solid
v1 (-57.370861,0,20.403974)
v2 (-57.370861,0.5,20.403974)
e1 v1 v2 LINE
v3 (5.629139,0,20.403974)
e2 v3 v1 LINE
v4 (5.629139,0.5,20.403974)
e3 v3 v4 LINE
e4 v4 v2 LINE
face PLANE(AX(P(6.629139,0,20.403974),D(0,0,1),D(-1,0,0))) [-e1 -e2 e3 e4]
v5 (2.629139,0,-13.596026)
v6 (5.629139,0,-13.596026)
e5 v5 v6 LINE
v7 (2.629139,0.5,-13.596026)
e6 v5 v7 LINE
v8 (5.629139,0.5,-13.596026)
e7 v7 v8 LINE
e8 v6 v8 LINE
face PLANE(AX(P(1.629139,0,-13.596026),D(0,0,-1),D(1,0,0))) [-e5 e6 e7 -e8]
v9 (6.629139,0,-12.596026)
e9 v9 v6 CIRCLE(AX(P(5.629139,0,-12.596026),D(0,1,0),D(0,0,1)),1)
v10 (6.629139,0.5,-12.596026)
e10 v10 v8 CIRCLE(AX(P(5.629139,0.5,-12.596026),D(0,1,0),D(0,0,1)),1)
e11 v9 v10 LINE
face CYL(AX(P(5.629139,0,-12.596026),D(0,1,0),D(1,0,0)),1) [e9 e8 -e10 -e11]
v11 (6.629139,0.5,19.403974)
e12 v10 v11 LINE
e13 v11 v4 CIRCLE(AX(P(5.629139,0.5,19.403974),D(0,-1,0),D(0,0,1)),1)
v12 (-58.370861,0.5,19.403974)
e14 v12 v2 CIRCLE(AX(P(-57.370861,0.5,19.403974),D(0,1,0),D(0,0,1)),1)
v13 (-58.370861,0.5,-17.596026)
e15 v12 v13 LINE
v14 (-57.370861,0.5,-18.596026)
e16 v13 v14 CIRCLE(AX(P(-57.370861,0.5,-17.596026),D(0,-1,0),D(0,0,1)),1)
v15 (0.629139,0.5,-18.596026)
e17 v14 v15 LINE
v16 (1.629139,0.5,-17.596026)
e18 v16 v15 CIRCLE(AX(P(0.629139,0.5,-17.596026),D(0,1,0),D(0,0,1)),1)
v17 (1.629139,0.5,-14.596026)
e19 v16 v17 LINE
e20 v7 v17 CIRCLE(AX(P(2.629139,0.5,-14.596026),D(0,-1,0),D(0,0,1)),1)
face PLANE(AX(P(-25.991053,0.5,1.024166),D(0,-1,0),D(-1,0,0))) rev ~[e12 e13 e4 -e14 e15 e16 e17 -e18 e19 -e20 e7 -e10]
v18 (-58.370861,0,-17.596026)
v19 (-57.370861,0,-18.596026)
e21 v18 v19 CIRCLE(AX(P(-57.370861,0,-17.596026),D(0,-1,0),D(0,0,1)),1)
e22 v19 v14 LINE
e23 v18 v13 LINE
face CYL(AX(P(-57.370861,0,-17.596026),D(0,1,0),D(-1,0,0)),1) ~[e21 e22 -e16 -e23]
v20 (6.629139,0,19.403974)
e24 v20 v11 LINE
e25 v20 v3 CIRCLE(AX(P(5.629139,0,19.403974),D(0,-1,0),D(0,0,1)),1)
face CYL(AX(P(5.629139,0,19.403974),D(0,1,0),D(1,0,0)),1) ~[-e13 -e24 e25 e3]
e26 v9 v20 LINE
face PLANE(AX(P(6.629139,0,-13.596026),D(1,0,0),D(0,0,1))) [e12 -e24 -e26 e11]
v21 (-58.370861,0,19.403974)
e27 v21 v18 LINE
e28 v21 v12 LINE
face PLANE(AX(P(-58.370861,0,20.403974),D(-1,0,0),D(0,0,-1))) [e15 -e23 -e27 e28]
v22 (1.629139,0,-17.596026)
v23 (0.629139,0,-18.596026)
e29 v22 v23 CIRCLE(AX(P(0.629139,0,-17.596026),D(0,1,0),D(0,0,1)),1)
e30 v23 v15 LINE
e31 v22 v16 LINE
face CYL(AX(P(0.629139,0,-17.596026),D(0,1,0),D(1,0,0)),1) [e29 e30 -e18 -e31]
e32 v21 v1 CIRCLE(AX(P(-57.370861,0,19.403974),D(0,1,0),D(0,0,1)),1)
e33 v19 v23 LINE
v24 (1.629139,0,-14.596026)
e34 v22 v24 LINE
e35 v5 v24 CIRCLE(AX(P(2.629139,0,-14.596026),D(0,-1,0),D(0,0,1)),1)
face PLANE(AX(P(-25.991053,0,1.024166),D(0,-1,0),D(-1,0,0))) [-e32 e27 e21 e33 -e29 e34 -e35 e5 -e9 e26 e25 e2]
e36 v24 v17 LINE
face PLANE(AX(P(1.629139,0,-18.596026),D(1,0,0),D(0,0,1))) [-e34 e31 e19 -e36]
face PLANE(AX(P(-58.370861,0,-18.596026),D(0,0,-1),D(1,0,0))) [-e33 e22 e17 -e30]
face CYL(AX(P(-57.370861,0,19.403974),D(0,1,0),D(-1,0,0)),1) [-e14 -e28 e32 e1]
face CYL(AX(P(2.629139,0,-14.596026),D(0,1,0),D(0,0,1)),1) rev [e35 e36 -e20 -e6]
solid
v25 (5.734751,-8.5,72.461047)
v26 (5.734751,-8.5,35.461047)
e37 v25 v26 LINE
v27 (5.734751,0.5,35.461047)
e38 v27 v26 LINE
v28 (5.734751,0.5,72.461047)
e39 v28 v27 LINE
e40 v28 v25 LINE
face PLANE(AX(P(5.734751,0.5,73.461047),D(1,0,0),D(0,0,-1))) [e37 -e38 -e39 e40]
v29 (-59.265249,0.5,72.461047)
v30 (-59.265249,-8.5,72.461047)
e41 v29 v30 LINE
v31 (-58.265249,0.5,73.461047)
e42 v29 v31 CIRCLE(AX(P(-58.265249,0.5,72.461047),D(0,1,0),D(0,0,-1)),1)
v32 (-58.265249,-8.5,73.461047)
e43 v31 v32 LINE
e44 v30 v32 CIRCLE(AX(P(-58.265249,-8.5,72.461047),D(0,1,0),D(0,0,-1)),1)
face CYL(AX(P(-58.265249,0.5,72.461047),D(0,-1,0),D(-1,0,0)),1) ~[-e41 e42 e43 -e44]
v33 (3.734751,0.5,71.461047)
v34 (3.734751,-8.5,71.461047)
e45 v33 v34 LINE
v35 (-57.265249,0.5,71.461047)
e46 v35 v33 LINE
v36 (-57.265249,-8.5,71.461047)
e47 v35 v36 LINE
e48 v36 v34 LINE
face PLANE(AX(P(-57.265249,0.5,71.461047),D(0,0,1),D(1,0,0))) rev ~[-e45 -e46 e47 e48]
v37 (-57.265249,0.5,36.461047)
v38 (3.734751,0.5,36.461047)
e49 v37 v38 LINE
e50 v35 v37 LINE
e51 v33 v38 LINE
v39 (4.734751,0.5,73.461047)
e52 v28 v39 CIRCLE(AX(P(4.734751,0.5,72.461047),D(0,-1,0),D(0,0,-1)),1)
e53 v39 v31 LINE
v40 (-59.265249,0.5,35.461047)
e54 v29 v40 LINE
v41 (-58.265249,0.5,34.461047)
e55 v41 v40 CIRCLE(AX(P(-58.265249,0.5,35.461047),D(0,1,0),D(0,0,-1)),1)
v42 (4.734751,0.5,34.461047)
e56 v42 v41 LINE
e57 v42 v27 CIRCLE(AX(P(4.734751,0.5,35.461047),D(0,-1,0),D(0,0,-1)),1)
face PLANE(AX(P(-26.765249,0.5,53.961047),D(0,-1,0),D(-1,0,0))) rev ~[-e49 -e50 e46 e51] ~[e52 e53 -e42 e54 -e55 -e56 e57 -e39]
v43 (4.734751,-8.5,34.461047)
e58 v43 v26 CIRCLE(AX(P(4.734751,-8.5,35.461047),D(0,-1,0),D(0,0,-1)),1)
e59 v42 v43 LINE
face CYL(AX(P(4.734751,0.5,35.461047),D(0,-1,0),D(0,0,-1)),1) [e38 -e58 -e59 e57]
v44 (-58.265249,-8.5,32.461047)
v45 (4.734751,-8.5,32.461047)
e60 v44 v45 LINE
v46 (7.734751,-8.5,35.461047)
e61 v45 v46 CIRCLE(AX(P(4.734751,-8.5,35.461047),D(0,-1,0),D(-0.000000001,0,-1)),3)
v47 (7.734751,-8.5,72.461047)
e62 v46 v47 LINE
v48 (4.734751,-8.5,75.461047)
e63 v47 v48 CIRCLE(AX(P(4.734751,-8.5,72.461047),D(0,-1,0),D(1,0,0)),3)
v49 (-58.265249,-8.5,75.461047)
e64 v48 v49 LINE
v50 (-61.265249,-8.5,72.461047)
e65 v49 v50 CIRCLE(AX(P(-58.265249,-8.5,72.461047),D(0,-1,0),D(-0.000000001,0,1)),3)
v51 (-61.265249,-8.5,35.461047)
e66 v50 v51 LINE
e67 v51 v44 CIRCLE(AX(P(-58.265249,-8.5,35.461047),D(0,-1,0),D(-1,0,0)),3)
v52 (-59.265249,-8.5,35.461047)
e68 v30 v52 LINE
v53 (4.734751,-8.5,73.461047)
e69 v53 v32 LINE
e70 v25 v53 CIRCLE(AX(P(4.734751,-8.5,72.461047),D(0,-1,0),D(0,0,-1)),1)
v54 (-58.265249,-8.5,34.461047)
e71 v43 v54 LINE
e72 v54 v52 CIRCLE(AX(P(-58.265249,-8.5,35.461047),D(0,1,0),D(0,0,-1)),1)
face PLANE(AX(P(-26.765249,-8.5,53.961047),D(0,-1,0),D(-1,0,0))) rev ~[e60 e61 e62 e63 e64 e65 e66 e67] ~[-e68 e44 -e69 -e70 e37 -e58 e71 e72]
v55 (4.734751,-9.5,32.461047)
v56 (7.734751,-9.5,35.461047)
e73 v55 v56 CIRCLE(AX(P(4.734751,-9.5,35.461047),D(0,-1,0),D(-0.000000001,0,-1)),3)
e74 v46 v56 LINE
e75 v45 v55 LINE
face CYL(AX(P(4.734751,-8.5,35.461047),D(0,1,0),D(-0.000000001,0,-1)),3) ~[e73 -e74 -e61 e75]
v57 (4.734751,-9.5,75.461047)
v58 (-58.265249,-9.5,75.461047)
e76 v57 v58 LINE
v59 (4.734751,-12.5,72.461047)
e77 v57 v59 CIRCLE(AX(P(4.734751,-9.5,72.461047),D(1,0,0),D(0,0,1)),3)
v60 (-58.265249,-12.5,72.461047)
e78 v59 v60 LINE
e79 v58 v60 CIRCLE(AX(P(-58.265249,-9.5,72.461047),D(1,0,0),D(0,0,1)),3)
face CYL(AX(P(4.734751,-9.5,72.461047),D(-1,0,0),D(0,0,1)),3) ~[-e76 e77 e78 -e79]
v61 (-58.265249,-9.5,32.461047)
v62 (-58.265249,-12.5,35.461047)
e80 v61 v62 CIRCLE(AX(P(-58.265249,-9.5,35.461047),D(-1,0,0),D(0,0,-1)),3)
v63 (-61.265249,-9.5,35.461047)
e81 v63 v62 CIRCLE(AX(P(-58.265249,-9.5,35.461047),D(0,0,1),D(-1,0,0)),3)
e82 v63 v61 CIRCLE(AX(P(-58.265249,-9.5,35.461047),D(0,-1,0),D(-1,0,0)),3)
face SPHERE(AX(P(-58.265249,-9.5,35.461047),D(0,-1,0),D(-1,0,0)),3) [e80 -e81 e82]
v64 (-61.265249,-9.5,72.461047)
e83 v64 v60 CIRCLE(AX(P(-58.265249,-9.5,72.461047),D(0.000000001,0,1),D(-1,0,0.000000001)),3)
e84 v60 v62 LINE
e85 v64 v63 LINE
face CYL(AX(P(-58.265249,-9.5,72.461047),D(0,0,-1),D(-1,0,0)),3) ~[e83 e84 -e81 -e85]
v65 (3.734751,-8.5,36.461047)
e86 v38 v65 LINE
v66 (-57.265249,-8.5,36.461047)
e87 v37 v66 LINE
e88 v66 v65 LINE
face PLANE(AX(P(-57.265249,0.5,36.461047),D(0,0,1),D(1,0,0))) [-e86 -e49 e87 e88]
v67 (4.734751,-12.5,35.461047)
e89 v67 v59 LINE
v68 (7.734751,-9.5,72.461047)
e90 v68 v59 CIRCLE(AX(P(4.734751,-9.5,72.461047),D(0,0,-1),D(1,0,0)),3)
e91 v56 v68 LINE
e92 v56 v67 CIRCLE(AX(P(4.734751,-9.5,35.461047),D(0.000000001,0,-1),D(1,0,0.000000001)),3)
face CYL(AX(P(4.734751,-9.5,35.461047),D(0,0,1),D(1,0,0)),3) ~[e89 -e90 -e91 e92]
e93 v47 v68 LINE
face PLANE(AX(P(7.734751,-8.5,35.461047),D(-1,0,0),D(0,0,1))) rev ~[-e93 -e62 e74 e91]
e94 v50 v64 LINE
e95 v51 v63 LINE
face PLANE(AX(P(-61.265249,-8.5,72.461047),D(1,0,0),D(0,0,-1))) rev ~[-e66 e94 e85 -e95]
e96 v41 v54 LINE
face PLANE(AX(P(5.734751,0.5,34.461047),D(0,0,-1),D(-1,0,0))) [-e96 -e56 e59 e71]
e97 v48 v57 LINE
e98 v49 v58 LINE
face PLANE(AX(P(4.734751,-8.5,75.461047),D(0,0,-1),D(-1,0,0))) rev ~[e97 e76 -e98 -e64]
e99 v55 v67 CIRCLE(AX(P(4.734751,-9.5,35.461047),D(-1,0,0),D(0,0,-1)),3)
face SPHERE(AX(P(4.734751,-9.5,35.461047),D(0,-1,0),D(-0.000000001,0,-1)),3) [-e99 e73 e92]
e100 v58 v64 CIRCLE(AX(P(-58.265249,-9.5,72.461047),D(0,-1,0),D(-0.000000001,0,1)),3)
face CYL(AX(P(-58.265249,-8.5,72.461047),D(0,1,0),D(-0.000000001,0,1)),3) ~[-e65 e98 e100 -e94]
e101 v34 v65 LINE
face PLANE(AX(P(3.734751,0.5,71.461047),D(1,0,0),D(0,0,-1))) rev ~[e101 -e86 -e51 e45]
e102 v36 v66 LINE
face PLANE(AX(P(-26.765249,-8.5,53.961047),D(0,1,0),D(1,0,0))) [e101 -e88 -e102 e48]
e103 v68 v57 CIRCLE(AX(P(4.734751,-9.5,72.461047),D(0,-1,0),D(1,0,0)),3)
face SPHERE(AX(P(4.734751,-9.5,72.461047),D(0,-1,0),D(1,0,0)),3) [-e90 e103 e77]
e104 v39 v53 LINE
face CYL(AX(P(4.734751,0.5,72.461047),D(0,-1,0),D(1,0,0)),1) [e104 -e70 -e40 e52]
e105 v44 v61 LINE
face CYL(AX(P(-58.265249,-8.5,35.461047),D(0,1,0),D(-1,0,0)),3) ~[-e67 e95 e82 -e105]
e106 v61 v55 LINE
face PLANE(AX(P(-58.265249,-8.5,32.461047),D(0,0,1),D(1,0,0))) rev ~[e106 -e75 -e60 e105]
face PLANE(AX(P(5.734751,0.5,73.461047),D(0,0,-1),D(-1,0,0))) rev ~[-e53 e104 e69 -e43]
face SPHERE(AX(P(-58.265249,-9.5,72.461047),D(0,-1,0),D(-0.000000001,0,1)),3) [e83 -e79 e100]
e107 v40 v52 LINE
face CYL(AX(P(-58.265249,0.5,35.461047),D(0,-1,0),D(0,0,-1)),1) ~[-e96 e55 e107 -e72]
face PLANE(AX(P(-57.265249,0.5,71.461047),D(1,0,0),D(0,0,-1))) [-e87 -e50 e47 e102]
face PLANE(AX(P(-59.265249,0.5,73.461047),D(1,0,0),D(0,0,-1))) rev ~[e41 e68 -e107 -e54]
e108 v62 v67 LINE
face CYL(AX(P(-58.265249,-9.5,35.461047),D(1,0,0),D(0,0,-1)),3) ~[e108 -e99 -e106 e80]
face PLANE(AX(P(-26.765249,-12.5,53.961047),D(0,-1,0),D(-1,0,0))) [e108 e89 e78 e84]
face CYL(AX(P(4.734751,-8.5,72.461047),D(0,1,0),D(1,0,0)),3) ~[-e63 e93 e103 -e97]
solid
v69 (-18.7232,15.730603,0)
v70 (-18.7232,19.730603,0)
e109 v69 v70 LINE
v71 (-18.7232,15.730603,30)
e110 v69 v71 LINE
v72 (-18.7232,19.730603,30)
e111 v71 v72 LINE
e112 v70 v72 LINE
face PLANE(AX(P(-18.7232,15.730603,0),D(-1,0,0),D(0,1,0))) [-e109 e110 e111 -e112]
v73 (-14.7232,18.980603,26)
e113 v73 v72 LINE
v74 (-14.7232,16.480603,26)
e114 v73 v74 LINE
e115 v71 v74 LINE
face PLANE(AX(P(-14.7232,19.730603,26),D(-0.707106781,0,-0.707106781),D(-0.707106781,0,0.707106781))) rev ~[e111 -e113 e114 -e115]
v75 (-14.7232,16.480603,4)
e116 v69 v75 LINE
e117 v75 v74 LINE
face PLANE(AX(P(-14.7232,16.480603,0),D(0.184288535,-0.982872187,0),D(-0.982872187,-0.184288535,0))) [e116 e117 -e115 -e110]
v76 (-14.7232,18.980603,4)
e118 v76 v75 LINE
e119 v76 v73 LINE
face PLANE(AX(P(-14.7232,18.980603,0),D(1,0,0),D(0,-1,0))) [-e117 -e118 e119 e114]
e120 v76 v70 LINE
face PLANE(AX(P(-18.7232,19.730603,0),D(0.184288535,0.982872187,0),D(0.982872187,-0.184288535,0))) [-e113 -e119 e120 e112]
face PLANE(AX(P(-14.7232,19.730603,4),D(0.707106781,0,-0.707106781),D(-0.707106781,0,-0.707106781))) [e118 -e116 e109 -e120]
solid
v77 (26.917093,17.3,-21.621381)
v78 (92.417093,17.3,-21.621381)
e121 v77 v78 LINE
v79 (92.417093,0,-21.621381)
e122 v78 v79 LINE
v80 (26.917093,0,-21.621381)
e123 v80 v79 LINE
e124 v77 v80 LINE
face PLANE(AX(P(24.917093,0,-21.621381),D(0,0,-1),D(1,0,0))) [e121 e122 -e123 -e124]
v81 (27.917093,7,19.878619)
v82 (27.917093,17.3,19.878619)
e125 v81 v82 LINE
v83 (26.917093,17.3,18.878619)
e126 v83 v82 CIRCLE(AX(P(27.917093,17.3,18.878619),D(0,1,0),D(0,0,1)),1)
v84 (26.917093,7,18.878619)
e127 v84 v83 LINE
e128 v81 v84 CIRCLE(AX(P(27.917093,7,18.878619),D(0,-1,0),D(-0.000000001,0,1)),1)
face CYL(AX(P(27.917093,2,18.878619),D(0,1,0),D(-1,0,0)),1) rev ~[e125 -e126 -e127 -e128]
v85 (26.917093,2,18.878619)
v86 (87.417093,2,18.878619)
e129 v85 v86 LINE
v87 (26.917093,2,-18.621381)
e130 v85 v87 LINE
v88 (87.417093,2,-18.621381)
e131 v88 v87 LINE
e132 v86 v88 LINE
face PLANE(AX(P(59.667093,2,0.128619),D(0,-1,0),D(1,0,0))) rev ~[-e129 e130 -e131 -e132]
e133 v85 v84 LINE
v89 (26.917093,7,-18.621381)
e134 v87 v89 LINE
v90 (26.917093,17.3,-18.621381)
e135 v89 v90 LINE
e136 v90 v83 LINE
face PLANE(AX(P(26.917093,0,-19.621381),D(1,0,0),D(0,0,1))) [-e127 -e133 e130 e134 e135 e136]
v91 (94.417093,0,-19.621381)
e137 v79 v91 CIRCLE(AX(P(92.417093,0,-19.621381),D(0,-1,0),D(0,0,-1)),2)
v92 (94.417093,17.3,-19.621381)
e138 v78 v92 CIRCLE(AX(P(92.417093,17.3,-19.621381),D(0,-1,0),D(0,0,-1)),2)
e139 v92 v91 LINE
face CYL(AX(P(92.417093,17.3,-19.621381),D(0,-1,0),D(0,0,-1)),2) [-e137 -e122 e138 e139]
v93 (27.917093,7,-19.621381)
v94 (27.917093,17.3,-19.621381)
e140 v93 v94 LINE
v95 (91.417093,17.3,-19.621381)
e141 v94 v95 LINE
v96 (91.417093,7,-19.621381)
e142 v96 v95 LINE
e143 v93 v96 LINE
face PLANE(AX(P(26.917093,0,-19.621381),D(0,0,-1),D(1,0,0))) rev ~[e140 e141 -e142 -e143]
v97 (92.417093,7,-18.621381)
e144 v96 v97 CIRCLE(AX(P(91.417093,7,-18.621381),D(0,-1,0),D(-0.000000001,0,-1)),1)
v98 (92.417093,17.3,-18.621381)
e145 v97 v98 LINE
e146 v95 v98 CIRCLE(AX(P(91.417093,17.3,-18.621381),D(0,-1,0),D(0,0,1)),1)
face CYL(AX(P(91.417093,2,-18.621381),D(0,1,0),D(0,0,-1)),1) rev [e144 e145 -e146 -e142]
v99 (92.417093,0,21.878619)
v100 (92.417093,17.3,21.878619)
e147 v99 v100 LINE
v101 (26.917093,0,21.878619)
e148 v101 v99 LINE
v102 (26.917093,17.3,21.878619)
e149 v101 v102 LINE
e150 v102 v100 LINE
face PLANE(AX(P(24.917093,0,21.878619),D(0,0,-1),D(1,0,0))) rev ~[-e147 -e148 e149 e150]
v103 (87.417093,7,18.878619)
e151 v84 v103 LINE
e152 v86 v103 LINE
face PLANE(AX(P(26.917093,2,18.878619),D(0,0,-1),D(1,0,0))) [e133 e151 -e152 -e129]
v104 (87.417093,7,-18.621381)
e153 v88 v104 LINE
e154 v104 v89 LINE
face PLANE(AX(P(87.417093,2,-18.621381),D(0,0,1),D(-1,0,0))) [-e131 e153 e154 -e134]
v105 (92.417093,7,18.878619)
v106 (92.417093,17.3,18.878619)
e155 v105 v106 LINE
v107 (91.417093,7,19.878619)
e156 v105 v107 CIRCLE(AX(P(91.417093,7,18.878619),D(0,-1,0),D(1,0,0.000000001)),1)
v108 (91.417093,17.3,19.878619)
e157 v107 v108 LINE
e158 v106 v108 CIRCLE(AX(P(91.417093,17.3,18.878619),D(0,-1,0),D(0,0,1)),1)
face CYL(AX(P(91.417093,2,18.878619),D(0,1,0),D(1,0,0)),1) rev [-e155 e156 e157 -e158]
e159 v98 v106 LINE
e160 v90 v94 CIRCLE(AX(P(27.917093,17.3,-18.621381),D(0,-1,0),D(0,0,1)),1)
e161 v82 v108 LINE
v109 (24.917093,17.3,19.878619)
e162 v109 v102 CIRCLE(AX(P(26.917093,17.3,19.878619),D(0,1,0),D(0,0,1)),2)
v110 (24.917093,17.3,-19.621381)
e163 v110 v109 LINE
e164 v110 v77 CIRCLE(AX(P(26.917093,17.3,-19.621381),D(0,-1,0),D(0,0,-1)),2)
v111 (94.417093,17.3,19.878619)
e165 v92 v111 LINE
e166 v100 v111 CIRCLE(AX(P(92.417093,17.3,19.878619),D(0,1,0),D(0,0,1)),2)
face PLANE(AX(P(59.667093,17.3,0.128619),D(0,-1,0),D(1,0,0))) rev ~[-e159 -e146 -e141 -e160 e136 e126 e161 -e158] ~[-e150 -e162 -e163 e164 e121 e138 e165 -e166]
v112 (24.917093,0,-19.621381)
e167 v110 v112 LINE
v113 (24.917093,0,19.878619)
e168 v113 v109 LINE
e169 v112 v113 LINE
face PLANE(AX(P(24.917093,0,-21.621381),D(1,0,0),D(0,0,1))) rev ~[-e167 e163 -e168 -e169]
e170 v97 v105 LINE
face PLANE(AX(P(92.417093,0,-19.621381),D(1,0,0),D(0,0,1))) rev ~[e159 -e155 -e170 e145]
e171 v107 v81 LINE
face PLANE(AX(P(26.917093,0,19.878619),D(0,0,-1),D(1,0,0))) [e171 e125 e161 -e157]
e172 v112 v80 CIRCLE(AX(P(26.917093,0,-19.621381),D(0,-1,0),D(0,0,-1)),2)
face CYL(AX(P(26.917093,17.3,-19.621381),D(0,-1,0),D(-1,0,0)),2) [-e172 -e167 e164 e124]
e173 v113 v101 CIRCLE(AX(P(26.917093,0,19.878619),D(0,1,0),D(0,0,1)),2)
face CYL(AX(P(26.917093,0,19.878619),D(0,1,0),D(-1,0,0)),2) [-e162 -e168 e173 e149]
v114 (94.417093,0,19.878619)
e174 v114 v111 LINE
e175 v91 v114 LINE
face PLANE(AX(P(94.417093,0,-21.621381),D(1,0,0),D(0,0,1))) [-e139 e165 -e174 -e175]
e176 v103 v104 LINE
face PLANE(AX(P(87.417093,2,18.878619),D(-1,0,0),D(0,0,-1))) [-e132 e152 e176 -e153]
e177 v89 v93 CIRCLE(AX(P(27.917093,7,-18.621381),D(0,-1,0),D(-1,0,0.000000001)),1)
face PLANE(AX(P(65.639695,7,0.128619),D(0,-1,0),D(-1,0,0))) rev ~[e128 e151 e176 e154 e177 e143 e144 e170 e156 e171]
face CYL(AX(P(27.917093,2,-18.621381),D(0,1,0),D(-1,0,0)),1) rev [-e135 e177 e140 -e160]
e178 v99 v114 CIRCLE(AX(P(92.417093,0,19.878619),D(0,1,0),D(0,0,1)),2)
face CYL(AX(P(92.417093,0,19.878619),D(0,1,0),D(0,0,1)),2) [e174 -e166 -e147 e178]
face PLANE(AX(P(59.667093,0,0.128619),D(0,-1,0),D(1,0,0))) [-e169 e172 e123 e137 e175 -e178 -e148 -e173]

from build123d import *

# Parameters (mm, degrees)
BOSS_EXTRUDE1_DEPTH  = 0.5
FILLET2_R            = 1
FILLET3_R            = 1
FILLET4_R            = 1
FILLET5_R            = 1
SKETCH3_W            = 69.5
SKETCH3_H            = 43.5
SKETCH3_W_2          = 65.5
SKETCH3_H_2          = 39.5
BOSS_EXTRUDE2_DEPTH  = 17.3
SKETCH5_W            = 69.5
SKETCH5_H            = 43.5
BOSS_EXTRUDE3_DEPTH  = 2
FILLET6_R            = 1
FILLET7_R            = 1
FILLET8_R            = 1
FILLET9_R            = 1
BOSS_EXTRUDE5_DEPTH  = 9
FILLET12_R           = 1
FILLET13_R           = 1
BOSS_EXTRUDE6_DEPTH  = 4
SKETCH9_W            = 61
SKETCH9_H            = 35
BOSS_EXTRUDE7_DEPTH  = 9
FILLET15_R           = 3
BOSS_EXTRUDE8_DEPTH  = 30
BOSS_EXTRUDE9_REACH  = 127.091
FILLET16_R           = 2
BOSS_EXTRUDE10_DEPTH = 5


with BuildPart() as part:
    # Sketch1 → Boss-Extrude1 (new body)
    with BuildSketch(Plane(origin=(0, 0, 0), x_dir=(1, 0, 0), z_dir=(0, 1, 0))):
        Polygon((-58.370860927, -20.40397351), (-58.370860927, 18.59602649), (1.629139073, 18.59602649), (1.629139073, 13.59602649), (6.629139073, 13.59602649), (6.629139073, -20.40397351), align=None)
    extrude(amount=BOSS_EXTRUDE1_DEPTH)

    # Fillet2
    fillet2_edges = [part.edges().sort_by_distance(p)[0] for p in [
        (6.629139073, 0.25, 20.40397351),
    ]]
    fillet(fillet2_edges, radius=FILLET2_R)

    # Fillet3
    fillet3_edges = [part.edges().sort_by_distance(p)[0] for p in [
        (1.629139073, 0.25, -18.59602649),
        (1.629139073, 0.25, -13.59602649),
        (6.629139073, 0.25, -13.59602649),
    ]]
    fillet(fillet3_edges, radius=FILLET3_R)

    # Fillet4
    fillet4_edges = [part.edges().sort_by_distance(p)[0] for p in [
        (-58.370860927, 0.25, -18.59602649),
    ]]
    fillet(fillet4_edges, radius=FILLET4_R)

    # Fillet5
    fillet5_edges = [part.edges().sort_by_distance(p)[0] for p in [
        (-58.370860927, 0.25, 20.40397351),
    ]]
    fillet(fillet5_edges, radius=FILLET5_R)


with BuildPart() as body_2:
    # Sketch3 → Boss-Extrude2 (new body)
    with BuildSketch(Plane.XZ):
        with Locations((59.667093339, 0.128619439)):
            Rectangle(SKETCH3_W, SKETCH3_H)
        with Locations((59.667093339, 0.128619439)):
            Rectangle(SKETCH3_W_2, SKETCH3_H_2, mode=Mode.SUBTRACT)
    extrude(amount=-BOSS_EXTRUDE2_DEPTH)

    # Sketch5 → Boss-Extrude3 (add)
    with BuildSketch(Plane.XZ):
        with Locations((59.667093339, 0.128619439)):
            Rectangle(SKETCH5_W, SKETCH5_H)
    extrude(amount=-BOSS_EXTRUDE3_DEPTH)

    # Fillet6
    fillet6_edges = [body_2.edges().sort_by_distance(p)[0] for p in [
        (26.917093339, 9.65, 19.878619439),
    ]]
    fillet(fillet6_edges, radius=FILLET6_R)

    # Fillet7
    fillet7_edges = [body_2.edges().sort_by_distance(p)[0] for p in [
        (26.917093339, 9.65, -19.621380561),
    ]]
    fillet(fillet7_edges, radius=FILLET7_R)

    # Fillet8
    fillet8_edges = [body_2.edges().sort_by_distance(p)[0] for p in [
        (92.417093339, 9.65, -19.621380561),
    ]]
    fillet(fillet8_edges, radius=FILLET8_R)

    # Fillet9
    fillet9_edges = [body_2.edges().sort_by_distance(p)[0] for p in [
        (92.417093339, 9.65, 19.878619439),
    ]]
    fillet(fillet9_edges, radius=FILLET9_R)

    # Fillet16
    fillet16_edges = [body_2.edges().sort_by_distance(p)[0] for p in [
        (94.417093339, 8.65, 21.878619439),
        (94.417093339, 8.65, -21.621380561),
        (24.917093339, 8.65, -21.621380561),
        (24.917093339, 8.65, 21.878619439),
    ]]
    fillet(fillet16_edges, radius=FILLET16_R)

    # Sketch21 → Boss-Extrude10 (add)
    with BuildSketch(Plane(origin=(0, 2, 0), x_dir=(1, 0, 0), z_dir=(0, 1, 0))):
        with BuildLine():
            Line((26.917093339, -18.878619439), (87.417093339, -18.878619439))
            Line((87.417093339, -18.878619439), (87.417093339, 18.621380561))
            Line((87.417093339, 18.621380561), (26.917093339, 18.621380561))
            ThreePointArc((26.917093339, 18.621380561), (27.209986558, 19.328487343), (27.917093339, 19.621380561))
            Line((27.917093339, 19.621380561), (91.417093339, 19.621380561))
            ThreePointArc((91.417093339, 19.621380561), (92.12420012, 19.328487343), (92.417093339, 18.621380561))
            Line((92.417093339, 18.621380561), (92.417093339, -18.878619439))
            ThreePointArc((92.417093339, -18.878619439), (92.12420012, -19.58572622), (91.417093339, -19.878619439))
            Line((91.417093339, -19.878619439), (27.917093339, -19.878619439))
            ThreePointArc((27.917093339, -19.878619439), (27.209986558, -19.58572622), (26.917093339, -18.878619439))
        make_face()
    extrude(amount=BOSS_EXTRUDE10_DEPTH)


with BuildPart() as body_3:
    # Sketch7 → Boss-Extrude5 (new body)
    with BuildSketch(Plane(origin=(-22.905465396, 0.5, 42.53872145), x_dir=(1, 0, 0), z_dir=(0, 1, 0))):
        Polygon((-36.359783771, -30.922325969), (-36.359783771, 8.077674031), (23.640216229, 8.077674031), (28.640216229, 8.077674031), (28.640216229, 3.077674031), (28.640216229, -30.922325969), align=None)
    extrude(amount=-BOSS_EXTRUDE5_DEPTH)

    # Fillet12
    fillet12_edges = [body_3.edges().sort_by_distance(p)[0] for p in [
        (5.734750833, -4, 34.461047419),
        (5.734750833, -4, 73.461047419),
    ]]
    fillet(fillet12_edges, radius=FILLET12_R)

    # Fillet13
    fillet13_edges = [body_3.edges().sort_by_distance(p)[0] for p in [
        (-59.265249167, -4, 73.461047419),
        (-59.265249167, -4, 34.461047419),
    ]]
    fillet(fillet13_edges, radius=FILLET13_R)

    # Sketch8 → Boss-Extrude6 (add)
    with BuildSketch(Plane(origin=(0, -8.5, 0), x_dir=(-1, 0, 0), z_dir=(0, -1, 0))):
        with BuildLine():
            Line((58.265249167, -32.461047419), (-4.734750833, -32.461047419))
            ThreePointArc((-4.734750833, -32.461047419), (-6.856071177, -33.339727075), (-7.734750833, -35.461047419))
            Line((-7.734750833, -35.461047419), (-7.734750833, -72.461047419))
            ThreePointArc((-7.734750833, -72.461047419), (-6.856071177, -74.582367762), (-4.734750833, -75.461047419))
            Line((-4.734750833, -75.461047419), (58.265249167, -75.461047419))
            ThreePointArc((58.265249167, -75.461047419), (60.38656951, -74.582367762), (61.265249167, -72.461047419))
            Line((61.265249167, -72.461047419), (61.265249167, -35.461047419))
            ThreePointArc((61.265249167, -35.461047419), (60.38656951, -33.339727075), (58.265249167, -32.461047419))
        make_face()
    extrude(amount=BOSS_EXTRUDE6_DEPTH)


with BuildPart() as body_4:
    # Sketch9 → Boss-Extrude7 (new body)
    with BuildSketch(Plane(origin=(0, 0.5, 0), x_dir=(1, 0, 0), z_dir=(0, 1, 0))):
        with Locations((-26.765249167, -53.961047419)):
            Rectangle(SKETCH9_W, SKETCH9_H)
    extrude(amount=-BOSS_EXTRUDE7_DEPTH)


with BuildPart() as body_3_1:
    add(body_3.part)

    # Combine1: cut body 4
    add(body_4.part, mode=Mode.SUBTRACT)

    # Fillet15
    fillet15_edges = [body_3_1.edges().sort_by_distance(p)[0] for p in [
        (-60.38656951, -12.5, 33.339727075),
        (-26.765249167, -12.5, 32.461047419),
        (6.856071177, -12.5, 33.339727075),
        (7.734750833, -12.5, 53.961047419),
        (6.856071177, -12.5, 74.582367762),
        (-26.765249167, -12.5, 75.461047419),
        (-60.38656951, -12.5, 74.582367762),
        (-61.265249167, -12.5, 53.961047419),
    ]]
    fillet(fillet15_edges, radius=FILLET15_R)


with BuildPart() as body_4_2:
    # Sketch19 → Boss-Extrude8 (new body)
    with BuildSketch(Plane.XY):
        Polygon((-18.723200044, 15.730603156), (-18.723200044, 19.730603156), (-14.723200044, 18.980603156), (-14.723200044, 16.480603156), align=None)
    extrude(amount=BOSS_EXTRUDE8_DEPTH)


with BuildPart() as body_5:
    # Boss-Extrude9: up to this plane
    boss_extrude9_end = Plane(origin=(-18.723200044, 15.730603156, 30), z_dir=(-0.1842885350501855, 0.982872186934322, 0))
    # Sketch20 → Boss-Extrude9 (new, up to the surface)
    with BuildSketch(Plane(origin=(0, 19.730603156, 0), x_dir=(-1, 0, 0), z_dir=(0, 1, 0)), mode=Mode.PRIVATE) as boss_extrude9_sk1:
        Polygon((18.723200044, 30), (14.723200044, 30), (14.723200044, 26), align=None)
    boss_extrude9_tool1 = split(extrude(boss_extrude9_sk1.sketch, amount=-BOSS_EXTRUDE9_REACH, mode=Mode.PRIVATE), bisect_by=boss_extrude9_end, keep=Keep.BOTH, mode=Mode.PRIVATE)
    add(boss_extrude9_tool1.solids().sort_by_distance((-16.056533, 19.730603, 28.666667))[0])
    # Sketch20 → Boss-Extrude9 (new, up to the surface)
    with BuildSketch(Plane(origin=(0, 19.730603156, 0), x_dir=(-1, 0, 0), z_dir=(0, 1, 0)), mode=Mode.PRIVATE) as boss_extrude9_sk2:
        Polygon((14.723200044, 0), (14.723200044, 4), (18.723200044, 0), align=None)
    boss_extrude9_tool2 = split(extrude(boss_extrude9_sk2.sketch, amount=-BOSS_EXTRUDE9_REACH, mode=Mode.PRIVATE), bisect_by=boss_extrude9_end, keep=Keep.BOTH, mode=Mode.PRIVATE)
    add(boss_extrude9_tool2.solids().sort_by_distance((-16.056533, 19.730603, 1.333333))[0])


with BuildPart() as body_4_2_1:
    add(body_4_2.part)

    # Combine2: cut body 5
    add(body_5.part, mode=Mode.SUBTRACT)


solid = Compound([part.part, body_2.part, body_3_1.part, body_4_2_1.part])
